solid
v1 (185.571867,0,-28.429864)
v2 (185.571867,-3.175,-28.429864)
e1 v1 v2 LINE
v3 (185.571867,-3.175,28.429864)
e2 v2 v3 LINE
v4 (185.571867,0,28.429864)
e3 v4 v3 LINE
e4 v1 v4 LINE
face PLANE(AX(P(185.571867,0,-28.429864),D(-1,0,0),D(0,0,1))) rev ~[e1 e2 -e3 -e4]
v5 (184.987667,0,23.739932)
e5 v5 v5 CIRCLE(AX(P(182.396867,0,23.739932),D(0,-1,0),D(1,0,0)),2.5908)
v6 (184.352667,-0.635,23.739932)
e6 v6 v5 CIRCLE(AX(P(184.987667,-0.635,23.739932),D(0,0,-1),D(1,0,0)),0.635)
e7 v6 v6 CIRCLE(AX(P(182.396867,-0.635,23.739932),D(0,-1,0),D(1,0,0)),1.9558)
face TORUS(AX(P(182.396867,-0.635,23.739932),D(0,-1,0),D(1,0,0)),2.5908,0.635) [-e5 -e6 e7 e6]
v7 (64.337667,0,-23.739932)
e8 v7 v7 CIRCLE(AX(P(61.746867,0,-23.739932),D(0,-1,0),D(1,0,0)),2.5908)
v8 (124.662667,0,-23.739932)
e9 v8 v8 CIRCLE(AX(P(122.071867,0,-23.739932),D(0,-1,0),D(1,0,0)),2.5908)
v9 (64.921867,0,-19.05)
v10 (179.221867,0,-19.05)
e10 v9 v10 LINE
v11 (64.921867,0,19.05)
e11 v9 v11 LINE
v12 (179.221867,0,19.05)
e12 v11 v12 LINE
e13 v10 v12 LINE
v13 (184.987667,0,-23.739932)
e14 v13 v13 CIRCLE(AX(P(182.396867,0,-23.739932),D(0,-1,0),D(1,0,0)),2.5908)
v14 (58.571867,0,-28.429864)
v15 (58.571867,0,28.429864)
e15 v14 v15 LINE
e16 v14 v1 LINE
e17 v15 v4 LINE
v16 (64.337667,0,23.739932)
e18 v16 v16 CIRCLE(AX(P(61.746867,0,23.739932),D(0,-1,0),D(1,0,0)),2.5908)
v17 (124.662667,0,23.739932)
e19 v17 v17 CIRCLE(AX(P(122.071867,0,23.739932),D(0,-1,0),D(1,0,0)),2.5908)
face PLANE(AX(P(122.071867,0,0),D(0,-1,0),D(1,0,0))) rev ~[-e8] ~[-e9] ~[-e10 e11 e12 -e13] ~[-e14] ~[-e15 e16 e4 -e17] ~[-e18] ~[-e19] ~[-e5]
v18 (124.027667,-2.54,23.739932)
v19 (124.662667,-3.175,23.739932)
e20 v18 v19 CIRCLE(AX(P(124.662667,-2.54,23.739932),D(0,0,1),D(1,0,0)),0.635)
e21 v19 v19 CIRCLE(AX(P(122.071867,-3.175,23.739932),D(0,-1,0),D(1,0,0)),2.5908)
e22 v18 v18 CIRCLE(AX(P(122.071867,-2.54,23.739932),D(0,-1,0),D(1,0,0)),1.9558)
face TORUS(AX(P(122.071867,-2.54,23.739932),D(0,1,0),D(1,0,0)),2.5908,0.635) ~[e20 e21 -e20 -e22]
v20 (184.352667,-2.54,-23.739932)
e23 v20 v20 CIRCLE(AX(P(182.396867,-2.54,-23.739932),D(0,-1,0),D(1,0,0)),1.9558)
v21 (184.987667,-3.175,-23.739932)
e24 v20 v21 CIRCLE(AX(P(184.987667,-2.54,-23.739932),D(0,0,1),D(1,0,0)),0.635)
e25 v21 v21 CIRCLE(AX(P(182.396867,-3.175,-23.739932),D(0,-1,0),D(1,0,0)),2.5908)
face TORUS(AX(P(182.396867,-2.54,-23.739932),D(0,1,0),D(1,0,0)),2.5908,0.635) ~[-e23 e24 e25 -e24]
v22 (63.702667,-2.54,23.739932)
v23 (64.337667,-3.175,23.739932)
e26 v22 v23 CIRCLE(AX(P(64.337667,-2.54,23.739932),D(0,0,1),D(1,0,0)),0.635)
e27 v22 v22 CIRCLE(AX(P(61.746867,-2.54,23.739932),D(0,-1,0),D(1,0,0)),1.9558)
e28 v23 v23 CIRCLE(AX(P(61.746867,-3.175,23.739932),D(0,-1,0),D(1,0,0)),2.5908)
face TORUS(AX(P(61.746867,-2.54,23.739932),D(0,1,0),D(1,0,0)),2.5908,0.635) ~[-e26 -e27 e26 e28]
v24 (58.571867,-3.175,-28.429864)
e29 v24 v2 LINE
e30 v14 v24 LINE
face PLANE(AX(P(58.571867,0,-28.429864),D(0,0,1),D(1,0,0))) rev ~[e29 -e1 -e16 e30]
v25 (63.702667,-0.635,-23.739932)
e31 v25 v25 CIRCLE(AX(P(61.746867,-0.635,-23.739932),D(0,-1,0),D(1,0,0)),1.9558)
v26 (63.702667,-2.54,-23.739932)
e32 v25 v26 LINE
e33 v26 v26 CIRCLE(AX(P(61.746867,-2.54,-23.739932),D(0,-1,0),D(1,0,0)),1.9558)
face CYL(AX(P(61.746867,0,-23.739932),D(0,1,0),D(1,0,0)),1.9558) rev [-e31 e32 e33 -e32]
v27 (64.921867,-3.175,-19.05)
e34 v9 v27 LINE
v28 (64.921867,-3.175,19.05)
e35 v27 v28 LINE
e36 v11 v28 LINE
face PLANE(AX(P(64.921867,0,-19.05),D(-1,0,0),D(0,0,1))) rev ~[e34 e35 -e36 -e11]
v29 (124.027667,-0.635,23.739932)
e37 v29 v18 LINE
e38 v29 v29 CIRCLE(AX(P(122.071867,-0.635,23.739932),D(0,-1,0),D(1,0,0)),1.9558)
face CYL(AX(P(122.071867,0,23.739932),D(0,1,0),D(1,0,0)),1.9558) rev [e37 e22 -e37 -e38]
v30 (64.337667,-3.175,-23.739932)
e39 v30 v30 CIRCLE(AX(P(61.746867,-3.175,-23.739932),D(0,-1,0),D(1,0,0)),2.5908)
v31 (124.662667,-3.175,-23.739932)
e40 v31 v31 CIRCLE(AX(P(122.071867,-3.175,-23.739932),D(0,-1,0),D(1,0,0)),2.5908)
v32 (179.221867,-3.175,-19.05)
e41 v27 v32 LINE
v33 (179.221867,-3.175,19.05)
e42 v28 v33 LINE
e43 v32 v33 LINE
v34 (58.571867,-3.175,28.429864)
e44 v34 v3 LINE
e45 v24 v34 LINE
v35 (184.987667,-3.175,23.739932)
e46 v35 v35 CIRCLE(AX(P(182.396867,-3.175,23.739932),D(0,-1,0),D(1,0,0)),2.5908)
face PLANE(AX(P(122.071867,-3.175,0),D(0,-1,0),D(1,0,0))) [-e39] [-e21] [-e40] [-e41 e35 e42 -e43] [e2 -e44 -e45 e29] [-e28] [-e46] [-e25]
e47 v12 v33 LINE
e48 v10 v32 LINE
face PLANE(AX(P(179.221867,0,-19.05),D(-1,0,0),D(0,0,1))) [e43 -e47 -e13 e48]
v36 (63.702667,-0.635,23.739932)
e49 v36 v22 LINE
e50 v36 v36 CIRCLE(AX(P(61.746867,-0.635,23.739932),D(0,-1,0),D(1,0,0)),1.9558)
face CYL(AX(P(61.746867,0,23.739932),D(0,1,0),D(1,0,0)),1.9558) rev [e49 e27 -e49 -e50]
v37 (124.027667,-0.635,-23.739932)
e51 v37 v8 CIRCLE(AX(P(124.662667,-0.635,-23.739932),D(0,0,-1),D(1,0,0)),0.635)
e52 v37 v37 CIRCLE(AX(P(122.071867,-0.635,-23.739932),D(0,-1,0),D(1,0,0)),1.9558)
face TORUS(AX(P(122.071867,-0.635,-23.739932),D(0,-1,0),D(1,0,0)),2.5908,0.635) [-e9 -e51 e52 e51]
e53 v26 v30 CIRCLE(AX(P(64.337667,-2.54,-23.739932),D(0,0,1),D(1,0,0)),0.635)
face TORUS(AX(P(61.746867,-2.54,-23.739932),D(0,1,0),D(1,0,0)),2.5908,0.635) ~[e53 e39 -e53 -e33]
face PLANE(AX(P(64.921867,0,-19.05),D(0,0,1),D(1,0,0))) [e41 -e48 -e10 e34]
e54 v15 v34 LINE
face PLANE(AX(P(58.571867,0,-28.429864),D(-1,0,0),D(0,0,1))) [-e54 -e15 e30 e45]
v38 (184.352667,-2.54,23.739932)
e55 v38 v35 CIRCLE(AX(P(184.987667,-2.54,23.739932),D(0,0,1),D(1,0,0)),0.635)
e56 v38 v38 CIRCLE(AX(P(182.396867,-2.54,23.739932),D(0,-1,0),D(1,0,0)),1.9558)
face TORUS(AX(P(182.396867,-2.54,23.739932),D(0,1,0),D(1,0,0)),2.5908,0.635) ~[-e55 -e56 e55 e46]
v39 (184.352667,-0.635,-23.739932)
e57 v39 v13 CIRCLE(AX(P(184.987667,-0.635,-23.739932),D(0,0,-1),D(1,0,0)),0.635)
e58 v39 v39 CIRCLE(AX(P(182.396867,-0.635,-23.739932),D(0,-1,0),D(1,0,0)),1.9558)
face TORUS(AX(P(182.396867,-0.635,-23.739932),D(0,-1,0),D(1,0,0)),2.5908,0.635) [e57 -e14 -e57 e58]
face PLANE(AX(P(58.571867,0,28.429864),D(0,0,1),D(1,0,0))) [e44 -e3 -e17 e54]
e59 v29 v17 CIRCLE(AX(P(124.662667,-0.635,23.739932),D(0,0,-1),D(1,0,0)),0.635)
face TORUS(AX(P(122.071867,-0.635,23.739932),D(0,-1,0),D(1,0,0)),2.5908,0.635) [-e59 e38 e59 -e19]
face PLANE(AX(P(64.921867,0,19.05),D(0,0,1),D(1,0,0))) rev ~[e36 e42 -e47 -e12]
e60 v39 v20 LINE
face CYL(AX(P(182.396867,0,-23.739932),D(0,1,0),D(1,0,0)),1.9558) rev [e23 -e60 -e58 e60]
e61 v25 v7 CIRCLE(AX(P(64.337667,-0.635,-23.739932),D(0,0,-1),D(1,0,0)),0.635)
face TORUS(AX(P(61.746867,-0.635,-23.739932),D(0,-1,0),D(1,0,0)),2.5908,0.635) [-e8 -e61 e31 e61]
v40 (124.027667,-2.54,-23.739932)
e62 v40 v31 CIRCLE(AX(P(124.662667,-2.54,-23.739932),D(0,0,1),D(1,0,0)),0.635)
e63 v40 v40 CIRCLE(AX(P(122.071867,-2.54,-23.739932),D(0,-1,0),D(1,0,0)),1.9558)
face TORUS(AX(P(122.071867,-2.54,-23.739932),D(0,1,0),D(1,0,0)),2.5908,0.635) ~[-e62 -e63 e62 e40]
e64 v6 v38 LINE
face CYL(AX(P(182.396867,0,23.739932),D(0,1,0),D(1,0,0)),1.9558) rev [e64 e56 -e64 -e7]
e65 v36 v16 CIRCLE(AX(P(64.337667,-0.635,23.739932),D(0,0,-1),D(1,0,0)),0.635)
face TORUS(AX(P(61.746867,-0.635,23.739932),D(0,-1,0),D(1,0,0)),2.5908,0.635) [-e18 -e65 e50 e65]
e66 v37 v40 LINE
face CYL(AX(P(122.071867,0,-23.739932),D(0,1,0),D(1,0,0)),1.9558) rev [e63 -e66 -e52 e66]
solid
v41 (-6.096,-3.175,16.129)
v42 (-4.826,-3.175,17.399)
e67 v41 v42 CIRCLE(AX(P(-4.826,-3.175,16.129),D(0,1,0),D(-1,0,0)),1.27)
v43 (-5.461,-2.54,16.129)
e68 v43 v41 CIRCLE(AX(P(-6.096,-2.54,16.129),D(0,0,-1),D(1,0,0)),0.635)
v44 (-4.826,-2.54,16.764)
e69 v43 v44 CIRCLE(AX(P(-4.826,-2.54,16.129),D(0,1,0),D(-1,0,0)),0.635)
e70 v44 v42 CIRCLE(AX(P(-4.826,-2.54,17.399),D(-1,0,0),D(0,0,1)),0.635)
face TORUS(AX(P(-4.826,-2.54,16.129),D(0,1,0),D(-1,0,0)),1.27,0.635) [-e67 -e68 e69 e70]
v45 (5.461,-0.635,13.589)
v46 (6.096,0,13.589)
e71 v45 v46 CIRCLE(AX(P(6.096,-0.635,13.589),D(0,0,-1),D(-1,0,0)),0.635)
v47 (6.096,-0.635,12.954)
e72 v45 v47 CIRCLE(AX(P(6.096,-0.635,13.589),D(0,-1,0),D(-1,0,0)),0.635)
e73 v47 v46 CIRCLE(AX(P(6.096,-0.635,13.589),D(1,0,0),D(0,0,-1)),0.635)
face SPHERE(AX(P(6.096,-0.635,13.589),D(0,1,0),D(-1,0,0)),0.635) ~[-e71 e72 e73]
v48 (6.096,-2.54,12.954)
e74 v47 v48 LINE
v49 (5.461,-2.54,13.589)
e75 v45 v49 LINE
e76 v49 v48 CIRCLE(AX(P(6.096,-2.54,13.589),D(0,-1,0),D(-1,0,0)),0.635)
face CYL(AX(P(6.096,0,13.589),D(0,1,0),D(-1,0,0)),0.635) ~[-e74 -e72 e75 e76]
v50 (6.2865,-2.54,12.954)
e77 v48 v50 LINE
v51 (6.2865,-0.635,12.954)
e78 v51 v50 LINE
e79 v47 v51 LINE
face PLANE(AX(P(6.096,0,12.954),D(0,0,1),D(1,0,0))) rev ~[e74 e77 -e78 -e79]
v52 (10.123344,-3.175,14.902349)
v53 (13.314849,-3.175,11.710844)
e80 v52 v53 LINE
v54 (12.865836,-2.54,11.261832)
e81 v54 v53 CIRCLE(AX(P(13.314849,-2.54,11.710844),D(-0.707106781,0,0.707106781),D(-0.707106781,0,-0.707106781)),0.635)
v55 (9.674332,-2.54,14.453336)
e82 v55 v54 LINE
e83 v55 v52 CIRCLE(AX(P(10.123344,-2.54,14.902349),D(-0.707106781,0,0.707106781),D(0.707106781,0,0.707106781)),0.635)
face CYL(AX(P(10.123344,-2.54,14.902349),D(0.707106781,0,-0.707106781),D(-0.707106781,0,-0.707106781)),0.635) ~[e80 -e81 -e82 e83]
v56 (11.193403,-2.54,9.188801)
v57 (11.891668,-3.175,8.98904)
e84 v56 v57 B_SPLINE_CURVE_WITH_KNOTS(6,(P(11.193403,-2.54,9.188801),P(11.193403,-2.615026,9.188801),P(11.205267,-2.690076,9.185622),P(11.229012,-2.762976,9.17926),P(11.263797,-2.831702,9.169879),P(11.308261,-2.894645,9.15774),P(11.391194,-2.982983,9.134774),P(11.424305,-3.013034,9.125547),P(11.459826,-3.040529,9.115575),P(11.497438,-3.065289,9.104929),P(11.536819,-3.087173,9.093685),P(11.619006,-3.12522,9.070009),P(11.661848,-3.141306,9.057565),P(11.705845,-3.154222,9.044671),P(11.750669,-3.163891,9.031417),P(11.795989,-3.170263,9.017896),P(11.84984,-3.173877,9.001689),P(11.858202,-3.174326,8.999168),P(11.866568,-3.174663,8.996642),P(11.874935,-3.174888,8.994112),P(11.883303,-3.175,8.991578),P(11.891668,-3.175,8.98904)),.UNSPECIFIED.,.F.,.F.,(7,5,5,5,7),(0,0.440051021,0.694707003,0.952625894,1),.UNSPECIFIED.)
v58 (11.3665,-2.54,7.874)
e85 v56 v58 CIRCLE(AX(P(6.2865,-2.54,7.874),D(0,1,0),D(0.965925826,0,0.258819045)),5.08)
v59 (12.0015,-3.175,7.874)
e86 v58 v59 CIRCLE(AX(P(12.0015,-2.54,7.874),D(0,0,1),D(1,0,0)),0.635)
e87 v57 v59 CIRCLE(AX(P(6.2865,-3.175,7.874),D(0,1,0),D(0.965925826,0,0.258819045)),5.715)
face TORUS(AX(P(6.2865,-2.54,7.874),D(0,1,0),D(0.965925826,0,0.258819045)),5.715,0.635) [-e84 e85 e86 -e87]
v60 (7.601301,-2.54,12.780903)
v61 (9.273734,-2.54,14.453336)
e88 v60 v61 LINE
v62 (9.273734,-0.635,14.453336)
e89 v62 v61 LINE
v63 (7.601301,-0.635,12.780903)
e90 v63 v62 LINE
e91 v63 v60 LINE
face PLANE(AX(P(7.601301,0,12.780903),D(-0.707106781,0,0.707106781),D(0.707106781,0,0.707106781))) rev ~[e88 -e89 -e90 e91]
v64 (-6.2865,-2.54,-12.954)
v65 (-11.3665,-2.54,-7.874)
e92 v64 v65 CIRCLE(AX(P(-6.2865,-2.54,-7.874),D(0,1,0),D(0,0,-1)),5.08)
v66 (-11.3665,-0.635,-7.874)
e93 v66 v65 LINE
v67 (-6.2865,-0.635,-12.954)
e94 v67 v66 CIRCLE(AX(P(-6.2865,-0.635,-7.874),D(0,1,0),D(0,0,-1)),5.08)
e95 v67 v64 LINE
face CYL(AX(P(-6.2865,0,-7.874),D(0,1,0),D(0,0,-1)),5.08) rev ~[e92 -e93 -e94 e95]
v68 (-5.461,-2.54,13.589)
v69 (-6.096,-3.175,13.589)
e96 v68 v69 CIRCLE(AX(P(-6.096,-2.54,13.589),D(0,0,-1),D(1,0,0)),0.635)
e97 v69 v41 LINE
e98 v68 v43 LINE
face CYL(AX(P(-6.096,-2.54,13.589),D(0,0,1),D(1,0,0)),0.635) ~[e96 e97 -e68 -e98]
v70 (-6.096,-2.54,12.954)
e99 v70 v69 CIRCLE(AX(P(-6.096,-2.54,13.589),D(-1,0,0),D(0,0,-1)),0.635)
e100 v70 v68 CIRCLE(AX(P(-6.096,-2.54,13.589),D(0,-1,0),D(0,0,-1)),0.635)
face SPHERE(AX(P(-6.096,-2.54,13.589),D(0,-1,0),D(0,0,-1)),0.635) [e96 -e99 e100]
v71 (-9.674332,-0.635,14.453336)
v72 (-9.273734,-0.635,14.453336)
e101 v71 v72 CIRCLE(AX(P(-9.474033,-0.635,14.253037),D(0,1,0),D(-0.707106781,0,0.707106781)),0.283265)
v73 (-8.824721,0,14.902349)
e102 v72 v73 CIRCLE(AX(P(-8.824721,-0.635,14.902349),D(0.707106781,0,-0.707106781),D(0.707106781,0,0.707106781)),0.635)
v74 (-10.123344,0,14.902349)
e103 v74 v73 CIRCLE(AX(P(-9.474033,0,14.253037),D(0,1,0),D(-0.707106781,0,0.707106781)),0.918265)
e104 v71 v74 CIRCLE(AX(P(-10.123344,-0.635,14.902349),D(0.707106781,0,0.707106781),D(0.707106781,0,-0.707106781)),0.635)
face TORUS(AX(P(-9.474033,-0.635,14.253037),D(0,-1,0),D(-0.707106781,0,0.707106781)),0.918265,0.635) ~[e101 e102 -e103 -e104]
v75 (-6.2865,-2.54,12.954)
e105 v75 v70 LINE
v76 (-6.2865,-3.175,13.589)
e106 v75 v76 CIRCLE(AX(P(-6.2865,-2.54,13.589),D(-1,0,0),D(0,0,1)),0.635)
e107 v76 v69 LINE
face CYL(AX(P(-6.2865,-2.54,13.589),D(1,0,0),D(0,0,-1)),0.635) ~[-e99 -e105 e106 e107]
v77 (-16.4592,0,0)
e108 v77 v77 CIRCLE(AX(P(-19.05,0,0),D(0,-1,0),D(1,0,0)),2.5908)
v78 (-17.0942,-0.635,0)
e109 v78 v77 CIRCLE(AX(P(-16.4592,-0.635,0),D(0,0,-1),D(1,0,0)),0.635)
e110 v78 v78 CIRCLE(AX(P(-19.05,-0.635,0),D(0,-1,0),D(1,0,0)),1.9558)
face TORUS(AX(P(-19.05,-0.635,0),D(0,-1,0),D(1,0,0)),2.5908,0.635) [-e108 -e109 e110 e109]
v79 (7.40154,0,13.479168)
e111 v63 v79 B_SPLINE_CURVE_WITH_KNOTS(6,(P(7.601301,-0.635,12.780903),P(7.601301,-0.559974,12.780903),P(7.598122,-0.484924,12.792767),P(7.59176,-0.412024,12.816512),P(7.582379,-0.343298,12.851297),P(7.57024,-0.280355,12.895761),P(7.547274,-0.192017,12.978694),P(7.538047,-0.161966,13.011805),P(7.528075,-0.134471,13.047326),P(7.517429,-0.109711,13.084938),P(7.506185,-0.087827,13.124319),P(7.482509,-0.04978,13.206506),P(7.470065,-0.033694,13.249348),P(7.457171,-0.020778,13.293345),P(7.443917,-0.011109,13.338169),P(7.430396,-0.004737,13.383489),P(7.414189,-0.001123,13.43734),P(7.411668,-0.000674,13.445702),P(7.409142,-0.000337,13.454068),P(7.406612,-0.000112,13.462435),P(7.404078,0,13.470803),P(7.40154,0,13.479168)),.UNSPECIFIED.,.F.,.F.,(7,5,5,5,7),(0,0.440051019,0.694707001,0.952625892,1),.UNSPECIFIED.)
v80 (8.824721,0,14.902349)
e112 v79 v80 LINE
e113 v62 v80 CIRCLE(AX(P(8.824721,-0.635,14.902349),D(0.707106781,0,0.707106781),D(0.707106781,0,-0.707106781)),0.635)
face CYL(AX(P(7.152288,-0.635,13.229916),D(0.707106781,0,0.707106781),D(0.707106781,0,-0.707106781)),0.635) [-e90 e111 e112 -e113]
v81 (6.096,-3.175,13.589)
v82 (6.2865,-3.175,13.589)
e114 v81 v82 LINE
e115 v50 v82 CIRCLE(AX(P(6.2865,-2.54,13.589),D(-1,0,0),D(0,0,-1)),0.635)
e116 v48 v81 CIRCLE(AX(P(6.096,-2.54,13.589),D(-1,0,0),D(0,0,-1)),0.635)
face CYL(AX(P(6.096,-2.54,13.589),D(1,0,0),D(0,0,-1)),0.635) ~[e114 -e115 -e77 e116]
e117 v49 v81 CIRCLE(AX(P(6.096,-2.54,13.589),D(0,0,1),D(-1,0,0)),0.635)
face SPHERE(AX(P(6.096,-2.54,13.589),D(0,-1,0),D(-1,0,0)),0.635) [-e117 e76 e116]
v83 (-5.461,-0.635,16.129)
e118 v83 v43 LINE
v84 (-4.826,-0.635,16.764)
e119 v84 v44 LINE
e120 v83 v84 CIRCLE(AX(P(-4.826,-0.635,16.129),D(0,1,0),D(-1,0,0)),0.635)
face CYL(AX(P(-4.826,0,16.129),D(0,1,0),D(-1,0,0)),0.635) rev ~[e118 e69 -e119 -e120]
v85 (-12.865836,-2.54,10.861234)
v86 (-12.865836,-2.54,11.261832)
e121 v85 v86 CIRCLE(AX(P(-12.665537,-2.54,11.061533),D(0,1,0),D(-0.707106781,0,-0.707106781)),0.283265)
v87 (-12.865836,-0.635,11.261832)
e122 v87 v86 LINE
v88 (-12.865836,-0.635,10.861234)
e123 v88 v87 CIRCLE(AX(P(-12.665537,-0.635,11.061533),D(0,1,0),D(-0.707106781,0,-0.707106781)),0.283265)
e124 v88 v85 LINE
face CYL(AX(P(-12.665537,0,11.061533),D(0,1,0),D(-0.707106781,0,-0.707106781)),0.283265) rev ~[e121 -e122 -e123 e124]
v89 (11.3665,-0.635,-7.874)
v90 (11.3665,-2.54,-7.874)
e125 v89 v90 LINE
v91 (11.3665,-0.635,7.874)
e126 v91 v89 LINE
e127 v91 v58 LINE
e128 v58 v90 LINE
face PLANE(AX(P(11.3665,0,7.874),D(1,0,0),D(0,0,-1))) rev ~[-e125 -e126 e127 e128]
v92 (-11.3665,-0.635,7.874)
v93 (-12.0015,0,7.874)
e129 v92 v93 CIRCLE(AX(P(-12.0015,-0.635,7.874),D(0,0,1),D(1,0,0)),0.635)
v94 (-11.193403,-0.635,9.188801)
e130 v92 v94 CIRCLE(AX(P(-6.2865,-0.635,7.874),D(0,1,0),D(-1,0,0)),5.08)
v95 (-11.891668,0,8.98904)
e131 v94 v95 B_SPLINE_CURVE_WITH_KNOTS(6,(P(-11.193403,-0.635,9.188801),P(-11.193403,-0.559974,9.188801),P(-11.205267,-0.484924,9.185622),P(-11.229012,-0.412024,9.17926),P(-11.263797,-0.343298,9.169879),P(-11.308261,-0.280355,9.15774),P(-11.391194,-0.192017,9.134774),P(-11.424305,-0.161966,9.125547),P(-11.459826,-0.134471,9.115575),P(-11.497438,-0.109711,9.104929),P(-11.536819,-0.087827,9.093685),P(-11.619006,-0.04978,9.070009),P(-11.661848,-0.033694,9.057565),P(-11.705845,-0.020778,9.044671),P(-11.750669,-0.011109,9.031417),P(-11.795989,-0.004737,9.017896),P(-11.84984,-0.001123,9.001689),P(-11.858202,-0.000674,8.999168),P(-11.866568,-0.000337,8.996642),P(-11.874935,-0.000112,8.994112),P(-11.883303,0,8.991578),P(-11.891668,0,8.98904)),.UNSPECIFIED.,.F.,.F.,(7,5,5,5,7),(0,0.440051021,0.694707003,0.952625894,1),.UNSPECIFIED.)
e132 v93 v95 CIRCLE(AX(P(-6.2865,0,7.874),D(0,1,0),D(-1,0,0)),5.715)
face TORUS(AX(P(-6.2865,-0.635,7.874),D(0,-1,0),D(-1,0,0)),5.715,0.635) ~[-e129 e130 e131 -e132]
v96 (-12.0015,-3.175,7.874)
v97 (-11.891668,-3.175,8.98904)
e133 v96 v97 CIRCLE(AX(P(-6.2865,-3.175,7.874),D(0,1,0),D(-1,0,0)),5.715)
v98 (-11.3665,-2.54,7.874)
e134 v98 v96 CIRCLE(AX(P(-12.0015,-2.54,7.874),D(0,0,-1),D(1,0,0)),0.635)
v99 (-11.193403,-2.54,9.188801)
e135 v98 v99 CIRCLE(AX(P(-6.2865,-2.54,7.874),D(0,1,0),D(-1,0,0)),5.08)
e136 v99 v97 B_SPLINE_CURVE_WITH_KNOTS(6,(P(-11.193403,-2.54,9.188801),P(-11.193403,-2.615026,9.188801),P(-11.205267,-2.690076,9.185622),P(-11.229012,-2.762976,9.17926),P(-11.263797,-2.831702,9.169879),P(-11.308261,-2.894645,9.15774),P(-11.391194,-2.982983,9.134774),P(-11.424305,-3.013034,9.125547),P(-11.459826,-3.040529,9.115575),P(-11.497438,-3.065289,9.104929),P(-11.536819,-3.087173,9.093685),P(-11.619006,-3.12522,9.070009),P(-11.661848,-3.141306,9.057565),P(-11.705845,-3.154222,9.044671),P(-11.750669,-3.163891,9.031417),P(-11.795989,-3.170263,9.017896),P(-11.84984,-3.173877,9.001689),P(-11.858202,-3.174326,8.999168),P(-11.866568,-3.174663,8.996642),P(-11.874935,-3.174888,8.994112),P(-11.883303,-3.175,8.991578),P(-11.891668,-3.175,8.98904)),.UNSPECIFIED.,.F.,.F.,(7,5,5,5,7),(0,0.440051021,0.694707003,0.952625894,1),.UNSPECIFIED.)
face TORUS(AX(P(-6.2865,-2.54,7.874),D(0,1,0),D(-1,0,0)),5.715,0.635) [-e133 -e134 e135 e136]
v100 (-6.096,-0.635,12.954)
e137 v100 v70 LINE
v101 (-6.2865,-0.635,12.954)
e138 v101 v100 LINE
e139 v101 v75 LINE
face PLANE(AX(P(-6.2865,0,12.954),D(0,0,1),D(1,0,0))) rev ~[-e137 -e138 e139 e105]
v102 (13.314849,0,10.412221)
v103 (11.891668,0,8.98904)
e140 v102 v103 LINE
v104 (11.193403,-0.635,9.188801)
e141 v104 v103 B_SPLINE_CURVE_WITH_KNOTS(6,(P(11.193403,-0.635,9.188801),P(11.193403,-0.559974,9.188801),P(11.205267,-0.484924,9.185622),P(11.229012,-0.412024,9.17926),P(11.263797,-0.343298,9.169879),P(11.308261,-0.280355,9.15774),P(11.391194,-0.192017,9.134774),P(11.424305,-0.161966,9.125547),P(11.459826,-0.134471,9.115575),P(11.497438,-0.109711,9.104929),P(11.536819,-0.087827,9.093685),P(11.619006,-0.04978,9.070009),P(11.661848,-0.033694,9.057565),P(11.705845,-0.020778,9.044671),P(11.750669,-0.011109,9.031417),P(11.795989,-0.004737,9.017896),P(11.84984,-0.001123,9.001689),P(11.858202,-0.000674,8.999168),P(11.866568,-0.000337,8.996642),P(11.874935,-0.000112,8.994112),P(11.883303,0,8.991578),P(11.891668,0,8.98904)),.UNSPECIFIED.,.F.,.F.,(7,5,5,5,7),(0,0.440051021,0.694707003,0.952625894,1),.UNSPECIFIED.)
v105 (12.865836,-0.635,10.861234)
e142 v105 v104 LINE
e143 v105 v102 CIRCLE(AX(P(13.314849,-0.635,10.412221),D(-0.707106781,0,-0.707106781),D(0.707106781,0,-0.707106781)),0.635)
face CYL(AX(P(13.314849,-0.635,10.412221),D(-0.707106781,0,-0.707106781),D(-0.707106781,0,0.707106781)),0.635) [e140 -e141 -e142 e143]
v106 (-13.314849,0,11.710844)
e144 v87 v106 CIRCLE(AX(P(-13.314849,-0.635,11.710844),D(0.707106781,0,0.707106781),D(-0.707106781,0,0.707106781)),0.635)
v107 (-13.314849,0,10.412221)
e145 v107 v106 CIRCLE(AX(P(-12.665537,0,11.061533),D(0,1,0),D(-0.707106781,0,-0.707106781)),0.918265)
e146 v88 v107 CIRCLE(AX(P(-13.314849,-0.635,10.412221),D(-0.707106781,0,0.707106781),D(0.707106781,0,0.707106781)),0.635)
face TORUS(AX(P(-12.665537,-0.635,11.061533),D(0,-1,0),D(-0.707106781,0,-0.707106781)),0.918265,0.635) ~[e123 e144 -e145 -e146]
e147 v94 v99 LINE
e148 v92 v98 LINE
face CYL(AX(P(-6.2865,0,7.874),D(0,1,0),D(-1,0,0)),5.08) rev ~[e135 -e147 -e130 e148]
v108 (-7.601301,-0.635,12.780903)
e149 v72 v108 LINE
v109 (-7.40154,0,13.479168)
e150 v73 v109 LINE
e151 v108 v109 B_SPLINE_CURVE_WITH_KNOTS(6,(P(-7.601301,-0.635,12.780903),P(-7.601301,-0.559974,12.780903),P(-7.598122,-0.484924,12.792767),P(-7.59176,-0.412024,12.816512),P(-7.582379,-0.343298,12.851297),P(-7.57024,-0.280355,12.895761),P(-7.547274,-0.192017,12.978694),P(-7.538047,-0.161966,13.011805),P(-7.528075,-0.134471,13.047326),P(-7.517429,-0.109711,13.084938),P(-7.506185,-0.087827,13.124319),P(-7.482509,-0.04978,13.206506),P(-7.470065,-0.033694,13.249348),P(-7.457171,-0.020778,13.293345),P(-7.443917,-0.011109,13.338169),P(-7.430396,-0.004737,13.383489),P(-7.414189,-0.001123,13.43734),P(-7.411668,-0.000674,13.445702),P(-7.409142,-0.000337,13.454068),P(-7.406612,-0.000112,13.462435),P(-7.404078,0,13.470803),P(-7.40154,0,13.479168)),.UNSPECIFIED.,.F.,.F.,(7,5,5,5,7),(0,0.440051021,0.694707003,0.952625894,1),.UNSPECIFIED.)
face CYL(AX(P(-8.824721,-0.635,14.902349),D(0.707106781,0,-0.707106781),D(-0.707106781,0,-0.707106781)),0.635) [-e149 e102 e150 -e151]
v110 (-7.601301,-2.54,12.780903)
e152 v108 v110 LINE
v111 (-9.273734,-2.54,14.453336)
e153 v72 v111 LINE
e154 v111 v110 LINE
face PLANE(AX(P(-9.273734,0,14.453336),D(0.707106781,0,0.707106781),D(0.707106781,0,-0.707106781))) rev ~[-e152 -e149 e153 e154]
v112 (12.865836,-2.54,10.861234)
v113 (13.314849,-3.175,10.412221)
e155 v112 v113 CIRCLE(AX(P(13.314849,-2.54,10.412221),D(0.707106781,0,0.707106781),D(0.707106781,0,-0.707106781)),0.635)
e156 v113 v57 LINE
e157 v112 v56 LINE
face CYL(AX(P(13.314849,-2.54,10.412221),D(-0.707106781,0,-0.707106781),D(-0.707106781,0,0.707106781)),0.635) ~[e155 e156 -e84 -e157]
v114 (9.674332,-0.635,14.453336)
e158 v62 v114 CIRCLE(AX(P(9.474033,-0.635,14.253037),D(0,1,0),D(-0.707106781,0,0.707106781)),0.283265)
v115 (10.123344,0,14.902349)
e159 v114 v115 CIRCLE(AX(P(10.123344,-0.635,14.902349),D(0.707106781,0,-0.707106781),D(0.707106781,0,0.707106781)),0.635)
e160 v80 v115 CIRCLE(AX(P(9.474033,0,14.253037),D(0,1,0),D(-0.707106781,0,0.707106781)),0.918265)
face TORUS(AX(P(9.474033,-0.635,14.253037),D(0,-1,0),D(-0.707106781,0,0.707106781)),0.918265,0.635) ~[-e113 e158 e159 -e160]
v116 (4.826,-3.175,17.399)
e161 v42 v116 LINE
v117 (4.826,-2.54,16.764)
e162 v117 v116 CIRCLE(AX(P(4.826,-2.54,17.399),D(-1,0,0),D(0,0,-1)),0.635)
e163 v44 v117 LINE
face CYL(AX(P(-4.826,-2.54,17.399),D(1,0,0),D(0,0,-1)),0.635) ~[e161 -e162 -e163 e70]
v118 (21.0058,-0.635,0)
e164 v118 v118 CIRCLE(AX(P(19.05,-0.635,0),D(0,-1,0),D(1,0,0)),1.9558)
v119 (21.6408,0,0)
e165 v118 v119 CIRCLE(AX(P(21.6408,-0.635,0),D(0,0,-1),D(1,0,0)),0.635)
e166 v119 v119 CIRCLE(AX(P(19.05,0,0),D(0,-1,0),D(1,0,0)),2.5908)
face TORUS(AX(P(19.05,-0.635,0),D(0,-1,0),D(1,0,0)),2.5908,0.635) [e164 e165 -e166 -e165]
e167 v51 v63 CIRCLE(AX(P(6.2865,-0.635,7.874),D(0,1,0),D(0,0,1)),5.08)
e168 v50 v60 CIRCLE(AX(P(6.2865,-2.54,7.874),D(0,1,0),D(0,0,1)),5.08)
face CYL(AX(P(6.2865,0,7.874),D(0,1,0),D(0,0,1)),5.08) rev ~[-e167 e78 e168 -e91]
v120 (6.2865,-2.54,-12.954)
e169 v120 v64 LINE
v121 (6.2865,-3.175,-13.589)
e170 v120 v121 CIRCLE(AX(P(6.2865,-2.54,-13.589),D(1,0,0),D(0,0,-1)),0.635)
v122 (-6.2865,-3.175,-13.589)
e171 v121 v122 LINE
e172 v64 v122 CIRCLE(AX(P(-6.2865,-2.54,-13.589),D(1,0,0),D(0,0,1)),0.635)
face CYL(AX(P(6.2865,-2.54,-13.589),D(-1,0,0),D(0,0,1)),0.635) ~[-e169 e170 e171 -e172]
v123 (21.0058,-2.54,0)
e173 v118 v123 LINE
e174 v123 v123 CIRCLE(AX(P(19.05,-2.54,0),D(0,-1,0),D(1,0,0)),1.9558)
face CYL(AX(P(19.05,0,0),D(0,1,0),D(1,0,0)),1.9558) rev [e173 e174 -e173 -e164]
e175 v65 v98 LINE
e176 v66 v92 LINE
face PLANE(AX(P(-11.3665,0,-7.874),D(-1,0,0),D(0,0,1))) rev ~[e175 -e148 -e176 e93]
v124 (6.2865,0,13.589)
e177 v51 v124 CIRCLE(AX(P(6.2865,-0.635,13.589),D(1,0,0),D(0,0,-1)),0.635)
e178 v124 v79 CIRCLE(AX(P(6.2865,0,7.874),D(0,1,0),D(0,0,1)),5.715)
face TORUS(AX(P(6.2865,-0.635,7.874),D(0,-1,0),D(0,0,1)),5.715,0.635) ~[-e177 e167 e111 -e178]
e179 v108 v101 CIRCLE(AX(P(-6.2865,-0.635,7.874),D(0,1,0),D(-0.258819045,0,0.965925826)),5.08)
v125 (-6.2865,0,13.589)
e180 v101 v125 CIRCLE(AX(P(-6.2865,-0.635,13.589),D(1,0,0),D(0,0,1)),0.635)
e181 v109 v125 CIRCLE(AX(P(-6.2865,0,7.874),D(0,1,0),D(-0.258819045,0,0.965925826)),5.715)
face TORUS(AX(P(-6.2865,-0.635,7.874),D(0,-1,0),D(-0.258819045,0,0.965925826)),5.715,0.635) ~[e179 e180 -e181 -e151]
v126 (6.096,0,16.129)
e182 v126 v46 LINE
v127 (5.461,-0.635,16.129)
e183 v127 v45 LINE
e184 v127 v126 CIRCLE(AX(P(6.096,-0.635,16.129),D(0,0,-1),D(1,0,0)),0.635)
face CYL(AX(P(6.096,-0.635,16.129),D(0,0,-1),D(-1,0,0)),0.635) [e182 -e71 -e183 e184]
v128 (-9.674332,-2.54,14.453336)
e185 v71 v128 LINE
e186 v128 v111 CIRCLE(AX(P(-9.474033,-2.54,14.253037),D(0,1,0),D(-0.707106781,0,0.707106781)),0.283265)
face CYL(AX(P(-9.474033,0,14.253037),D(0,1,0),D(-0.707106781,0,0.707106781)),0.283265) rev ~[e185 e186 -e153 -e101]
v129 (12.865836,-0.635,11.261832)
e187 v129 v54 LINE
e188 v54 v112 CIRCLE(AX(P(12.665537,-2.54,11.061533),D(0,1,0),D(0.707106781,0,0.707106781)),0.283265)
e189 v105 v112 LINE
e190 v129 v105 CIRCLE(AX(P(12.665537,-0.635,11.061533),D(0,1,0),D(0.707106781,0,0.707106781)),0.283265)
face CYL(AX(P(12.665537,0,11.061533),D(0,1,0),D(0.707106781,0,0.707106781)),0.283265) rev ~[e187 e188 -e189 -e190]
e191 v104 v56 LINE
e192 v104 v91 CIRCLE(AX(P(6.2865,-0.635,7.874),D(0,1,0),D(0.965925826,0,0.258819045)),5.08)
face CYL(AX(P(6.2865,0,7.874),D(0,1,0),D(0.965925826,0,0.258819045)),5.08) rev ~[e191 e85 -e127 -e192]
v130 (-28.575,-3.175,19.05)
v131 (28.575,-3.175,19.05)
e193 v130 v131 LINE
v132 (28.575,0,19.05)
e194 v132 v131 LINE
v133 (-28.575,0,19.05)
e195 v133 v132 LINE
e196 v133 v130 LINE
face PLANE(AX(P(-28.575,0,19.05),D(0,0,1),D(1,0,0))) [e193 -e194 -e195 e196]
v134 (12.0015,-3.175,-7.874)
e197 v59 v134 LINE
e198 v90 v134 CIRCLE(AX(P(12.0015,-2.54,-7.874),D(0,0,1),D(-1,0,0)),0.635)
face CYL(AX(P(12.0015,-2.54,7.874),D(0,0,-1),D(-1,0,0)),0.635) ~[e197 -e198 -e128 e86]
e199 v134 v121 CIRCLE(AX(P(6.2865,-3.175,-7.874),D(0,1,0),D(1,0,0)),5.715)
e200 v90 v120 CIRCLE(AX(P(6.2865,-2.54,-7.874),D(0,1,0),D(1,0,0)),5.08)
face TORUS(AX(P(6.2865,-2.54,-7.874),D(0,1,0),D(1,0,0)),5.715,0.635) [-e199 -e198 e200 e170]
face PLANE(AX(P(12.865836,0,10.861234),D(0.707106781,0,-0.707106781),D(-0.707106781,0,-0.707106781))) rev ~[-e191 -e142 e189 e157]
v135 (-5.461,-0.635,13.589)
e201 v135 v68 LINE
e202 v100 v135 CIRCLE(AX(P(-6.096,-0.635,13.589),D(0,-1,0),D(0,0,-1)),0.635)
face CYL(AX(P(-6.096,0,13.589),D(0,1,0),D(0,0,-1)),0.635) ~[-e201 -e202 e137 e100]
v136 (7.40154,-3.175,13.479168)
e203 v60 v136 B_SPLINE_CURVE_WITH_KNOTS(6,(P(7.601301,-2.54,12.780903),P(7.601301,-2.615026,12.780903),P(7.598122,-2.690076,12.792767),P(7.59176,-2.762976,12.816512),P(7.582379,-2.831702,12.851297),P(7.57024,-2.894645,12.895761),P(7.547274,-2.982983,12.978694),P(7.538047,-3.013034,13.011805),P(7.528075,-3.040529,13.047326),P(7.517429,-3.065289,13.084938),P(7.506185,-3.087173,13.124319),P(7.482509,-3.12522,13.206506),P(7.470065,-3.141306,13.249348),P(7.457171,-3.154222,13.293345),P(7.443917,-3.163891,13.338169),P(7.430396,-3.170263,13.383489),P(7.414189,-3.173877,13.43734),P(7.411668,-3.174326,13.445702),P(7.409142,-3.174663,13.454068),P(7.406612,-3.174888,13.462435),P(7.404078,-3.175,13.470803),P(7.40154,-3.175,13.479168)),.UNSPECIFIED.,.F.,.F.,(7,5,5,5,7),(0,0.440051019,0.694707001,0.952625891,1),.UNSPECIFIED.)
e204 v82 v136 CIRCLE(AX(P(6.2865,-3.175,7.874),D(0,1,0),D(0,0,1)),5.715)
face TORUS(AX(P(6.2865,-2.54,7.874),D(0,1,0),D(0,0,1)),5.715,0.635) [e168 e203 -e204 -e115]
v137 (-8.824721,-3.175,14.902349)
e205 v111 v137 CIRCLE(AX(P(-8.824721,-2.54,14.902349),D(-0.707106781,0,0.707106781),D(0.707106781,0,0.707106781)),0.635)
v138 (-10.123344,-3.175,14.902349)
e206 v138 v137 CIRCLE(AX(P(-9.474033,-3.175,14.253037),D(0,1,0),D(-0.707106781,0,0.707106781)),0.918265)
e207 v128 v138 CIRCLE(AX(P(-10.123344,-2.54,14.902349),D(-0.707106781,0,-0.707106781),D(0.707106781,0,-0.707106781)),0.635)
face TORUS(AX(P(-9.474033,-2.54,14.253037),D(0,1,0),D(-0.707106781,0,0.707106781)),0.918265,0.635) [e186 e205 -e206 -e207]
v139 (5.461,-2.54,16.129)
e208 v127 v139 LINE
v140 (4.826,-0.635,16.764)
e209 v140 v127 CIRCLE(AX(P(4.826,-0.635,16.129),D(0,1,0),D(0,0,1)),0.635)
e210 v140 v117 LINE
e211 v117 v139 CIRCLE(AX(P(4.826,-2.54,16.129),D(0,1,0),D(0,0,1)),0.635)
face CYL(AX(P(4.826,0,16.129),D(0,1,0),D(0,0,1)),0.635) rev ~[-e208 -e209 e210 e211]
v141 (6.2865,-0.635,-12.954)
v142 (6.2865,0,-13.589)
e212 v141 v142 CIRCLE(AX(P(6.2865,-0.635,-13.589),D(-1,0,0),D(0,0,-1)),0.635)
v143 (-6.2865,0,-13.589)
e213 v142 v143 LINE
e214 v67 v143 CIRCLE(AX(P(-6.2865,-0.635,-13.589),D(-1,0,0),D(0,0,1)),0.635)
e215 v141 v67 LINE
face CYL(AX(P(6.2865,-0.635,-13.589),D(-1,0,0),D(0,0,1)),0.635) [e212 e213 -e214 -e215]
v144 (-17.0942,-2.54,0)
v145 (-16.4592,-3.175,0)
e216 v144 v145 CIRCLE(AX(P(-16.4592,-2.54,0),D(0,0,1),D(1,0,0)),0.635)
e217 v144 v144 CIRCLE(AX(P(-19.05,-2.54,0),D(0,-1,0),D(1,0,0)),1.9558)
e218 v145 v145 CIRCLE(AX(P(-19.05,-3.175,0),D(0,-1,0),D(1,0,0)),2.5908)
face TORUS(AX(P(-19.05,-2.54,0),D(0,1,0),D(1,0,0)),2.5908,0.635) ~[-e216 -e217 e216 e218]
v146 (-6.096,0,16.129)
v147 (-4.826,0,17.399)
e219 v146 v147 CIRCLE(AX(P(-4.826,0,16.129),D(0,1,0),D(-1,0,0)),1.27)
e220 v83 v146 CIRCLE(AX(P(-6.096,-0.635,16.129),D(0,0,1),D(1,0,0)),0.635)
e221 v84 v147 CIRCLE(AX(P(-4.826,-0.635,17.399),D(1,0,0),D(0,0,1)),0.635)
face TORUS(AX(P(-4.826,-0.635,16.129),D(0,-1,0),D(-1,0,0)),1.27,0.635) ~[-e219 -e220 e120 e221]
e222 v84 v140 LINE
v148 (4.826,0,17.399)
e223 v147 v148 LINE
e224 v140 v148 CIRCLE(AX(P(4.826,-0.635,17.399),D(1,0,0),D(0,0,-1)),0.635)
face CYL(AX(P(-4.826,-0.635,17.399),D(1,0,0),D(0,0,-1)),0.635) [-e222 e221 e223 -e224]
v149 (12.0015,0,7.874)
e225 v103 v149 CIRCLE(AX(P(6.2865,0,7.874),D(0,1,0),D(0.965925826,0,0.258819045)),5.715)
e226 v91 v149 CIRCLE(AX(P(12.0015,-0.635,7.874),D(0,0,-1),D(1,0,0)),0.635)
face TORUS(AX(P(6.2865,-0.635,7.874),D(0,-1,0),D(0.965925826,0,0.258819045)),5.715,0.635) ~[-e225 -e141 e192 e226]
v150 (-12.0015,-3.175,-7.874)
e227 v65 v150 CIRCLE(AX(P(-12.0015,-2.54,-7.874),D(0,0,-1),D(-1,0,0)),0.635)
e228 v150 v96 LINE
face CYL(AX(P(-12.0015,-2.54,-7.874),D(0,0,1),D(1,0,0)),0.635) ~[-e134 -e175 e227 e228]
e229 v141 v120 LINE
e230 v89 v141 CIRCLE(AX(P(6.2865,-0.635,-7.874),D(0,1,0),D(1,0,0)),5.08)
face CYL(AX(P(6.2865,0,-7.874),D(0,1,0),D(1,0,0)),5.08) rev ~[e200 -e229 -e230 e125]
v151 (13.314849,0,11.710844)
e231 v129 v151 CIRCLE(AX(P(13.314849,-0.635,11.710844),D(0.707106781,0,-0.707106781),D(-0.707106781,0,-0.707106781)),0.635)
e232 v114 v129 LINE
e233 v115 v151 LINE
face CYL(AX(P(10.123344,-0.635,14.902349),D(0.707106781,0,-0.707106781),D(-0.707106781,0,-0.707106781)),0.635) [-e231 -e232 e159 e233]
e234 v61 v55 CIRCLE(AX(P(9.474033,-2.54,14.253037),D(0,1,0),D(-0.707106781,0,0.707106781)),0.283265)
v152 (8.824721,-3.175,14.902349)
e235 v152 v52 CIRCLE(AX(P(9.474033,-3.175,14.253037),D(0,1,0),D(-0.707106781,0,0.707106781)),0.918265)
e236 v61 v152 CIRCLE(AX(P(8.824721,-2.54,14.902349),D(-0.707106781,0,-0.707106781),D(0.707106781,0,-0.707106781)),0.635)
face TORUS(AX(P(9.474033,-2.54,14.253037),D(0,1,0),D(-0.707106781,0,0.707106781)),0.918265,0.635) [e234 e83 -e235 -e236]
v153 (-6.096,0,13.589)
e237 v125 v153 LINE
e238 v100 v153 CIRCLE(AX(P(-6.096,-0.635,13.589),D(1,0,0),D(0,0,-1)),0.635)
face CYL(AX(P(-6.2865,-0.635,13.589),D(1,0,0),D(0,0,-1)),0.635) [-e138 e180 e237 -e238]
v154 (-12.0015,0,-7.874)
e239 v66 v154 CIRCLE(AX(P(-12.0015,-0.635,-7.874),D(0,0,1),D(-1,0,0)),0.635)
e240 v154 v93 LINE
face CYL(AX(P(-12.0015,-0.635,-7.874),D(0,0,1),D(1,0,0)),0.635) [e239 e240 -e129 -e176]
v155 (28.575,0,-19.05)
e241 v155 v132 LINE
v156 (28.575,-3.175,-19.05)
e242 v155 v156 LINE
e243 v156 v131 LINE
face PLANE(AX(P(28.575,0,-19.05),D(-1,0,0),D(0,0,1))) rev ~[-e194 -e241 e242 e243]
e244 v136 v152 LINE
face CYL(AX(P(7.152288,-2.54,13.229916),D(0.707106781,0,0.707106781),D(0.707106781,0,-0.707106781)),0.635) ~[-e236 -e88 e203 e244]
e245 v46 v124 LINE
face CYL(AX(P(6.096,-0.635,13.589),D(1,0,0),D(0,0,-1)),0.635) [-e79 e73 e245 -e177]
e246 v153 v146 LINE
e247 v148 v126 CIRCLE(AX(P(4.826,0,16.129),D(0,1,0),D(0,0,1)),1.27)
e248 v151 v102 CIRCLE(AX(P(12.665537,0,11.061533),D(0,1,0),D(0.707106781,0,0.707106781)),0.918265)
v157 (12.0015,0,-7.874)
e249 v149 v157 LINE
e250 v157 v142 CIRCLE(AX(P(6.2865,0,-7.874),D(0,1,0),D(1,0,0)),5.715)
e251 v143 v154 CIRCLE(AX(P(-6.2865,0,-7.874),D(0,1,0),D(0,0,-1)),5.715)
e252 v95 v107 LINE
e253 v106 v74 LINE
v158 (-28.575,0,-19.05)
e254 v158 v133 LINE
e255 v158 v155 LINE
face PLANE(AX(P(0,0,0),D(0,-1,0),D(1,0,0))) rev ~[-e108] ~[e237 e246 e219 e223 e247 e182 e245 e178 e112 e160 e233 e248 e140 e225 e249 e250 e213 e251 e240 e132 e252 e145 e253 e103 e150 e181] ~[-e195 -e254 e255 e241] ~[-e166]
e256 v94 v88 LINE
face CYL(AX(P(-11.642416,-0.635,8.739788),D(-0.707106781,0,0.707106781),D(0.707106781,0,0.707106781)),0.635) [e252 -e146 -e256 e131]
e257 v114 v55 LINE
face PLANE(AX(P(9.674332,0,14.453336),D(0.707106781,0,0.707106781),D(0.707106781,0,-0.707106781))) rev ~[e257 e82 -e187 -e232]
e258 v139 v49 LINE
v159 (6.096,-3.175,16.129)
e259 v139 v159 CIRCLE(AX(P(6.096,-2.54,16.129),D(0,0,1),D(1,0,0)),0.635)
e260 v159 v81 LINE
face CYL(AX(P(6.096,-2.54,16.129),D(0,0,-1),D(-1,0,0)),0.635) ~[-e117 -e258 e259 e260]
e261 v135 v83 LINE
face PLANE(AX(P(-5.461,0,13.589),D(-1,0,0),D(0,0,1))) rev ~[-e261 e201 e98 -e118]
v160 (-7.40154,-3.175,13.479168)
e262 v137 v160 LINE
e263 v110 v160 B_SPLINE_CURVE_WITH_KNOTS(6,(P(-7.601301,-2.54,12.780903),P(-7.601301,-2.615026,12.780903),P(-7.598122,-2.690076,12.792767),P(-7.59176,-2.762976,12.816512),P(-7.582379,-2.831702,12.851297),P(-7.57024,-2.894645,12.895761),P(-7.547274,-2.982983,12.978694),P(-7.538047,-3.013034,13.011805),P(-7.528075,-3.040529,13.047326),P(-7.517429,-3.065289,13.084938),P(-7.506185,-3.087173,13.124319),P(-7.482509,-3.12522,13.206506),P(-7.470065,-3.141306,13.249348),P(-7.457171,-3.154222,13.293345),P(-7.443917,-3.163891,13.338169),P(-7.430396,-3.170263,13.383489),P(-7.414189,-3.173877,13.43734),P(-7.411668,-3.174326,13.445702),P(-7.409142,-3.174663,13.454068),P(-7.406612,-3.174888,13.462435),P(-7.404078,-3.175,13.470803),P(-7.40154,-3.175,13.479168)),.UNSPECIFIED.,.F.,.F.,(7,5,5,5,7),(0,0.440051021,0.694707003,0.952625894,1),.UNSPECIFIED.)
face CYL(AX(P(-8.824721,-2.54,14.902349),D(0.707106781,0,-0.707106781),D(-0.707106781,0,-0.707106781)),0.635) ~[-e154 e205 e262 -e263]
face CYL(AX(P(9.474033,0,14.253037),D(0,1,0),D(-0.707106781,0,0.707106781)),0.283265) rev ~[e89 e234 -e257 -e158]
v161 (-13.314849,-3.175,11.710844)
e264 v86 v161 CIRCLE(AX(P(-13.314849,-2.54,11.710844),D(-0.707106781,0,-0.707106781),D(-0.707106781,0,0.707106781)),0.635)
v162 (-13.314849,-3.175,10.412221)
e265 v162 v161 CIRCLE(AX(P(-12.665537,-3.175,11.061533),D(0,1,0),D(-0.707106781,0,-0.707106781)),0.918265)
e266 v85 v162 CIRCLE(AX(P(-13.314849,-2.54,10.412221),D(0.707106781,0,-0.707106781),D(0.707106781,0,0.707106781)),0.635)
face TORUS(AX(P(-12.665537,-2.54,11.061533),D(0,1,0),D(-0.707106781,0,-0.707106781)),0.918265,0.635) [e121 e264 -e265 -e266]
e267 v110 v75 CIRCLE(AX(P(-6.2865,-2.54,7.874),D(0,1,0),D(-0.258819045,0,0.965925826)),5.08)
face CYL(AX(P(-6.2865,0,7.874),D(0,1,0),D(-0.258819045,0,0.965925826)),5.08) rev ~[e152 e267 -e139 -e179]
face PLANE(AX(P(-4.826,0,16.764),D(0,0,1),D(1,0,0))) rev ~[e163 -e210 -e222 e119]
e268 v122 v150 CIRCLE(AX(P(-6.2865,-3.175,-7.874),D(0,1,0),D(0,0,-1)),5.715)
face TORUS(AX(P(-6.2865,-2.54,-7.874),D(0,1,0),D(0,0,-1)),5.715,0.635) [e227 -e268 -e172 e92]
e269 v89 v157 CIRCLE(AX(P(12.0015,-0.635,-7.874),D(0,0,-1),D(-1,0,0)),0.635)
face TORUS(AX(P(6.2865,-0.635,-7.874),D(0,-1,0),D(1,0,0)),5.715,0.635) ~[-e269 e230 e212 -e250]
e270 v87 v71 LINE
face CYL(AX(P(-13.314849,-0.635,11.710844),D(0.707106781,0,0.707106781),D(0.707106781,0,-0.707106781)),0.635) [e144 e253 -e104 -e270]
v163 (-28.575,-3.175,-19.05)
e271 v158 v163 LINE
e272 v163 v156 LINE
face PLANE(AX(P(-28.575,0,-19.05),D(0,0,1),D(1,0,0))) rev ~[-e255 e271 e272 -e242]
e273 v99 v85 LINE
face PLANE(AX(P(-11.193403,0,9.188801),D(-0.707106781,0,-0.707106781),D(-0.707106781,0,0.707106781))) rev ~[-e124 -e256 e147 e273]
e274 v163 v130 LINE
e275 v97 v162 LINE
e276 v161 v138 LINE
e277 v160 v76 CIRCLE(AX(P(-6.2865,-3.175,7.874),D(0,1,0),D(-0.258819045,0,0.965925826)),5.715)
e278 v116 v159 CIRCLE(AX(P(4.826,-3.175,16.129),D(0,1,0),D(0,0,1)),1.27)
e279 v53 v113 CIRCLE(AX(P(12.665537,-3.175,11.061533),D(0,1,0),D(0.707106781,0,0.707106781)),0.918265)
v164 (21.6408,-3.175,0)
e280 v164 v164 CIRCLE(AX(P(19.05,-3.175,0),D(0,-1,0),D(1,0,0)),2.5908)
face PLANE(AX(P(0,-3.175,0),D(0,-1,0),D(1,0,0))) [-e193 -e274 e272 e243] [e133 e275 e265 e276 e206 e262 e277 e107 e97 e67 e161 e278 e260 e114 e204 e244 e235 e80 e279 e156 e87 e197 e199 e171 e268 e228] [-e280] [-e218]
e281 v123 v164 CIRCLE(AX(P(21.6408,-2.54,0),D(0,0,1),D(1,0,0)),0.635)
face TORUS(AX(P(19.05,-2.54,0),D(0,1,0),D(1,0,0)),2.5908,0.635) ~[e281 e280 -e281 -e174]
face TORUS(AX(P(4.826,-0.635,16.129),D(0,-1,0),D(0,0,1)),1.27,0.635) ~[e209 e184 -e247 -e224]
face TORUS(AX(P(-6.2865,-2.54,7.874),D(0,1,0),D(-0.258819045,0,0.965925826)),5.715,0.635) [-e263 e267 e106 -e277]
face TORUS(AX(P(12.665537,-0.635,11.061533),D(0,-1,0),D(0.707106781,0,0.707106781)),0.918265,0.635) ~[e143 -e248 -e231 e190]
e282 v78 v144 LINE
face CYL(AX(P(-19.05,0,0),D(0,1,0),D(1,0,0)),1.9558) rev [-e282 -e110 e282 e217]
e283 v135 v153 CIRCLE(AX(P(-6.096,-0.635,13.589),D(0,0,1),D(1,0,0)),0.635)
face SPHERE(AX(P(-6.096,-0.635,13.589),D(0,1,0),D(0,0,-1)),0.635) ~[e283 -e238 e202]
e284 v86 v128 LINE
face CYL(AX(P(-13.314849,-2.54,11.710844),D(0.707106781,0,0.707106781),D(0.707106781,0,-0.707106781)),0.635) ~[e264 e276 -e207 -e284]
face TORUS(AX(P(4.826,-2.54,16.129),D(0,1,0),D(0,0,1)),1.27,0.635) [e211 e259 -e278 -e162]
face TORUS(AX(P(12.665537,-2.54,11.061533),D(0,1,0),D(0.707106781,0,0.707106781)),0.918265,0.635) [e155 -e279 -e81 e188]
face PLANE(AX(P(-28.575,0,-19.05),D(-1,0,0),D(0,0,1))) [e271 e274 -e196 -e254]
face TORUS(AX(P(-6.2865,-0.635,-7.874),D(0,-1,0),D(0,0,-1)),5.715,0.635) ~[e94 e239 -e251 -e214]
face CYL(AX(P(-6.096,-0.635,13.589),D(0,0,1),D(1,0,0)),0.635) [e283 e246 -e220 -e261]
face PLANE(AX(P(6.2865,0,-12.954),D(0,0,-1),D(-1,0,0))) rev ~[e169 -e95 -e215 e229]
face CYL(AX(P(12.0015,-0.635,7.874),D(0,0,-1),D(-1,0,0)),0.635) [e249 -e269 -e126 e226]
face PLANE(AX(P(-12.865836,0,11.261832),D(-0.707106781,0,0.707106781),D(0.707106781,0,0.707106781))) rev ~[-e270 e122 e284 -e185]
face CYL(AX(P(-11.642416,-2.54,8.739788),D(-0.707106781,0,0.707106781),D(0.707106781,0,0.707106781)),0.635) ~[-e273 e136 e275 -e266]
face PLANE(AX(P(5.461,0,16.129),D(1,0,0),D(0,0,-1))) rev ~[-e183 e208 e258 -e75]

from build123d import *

# Parameters (mm, degrees)
F0_W     = 57.15
F0_H     = 38.1
F0_R     = 4.445
F0_R_2   = 1.9558
F1_DEPTH = 3.175
F0_W_2   = 127
F0_H_2   = 56.8597277675
F0_W_3   = 114.3
F3_R     = 0.635
F4_R     = 0.635


with BuildPart() as f1:
    # F0 (on Front) → F1 (new body)
    with BuildSketch(Plane.XZ):
        Rectangle(F0_W, F0_H)
        with Locations((-19.05, 0)):
            Circle(F0_R, mode=Mode.SUBTRACT)
        with Locations((19.05, 0)):
            Circle(F0_R, mode=Mode.SUBTRACT)
        with BuildLine():
            ThreePointArc((-7.6013007491, 12.7809031975), (-6.9495730565, 12.9105398958), (-6.2865, 12.954))
            Line((-6.2865, 12.954), (-6.096, 12.954))
            ThreePointArc((-6.096, 12.954), (-5.6469871939, 13.1399871939), (-5.461, 13.589))
            Line((-5.461, 13.589), (-5.461, 16.129))
            ThreePointArc((-5.461, 16.129), (-5.2750128061, 16.5780128061), (-4.826, 16.764))
            Line((-4.826, 16.764), (4.826, 16.764))
            ThreePointArc((4.826, 16.764), (5.2750128061, 16.5780128061), (5.461, 16.129))
            Line((5.461, 16.129), (5.461, 13.589))
            ThreePointArc((5.461, 13.589), (5.6469871939, 13.1399871939), (6.096, 12.954))
            Line((6.096, 12.954), (6.2865, 12.954))
            ThreePointArc((6.2865, 12.954), (6.9495730565, 12.9105398958), (7.6013007491, 12.7809031975))
            Line((7.6013007491, 12.7809031975), (9.2737338617, 14.4533363102))
            ThreePointArc((9.2737338617, 14.4533363102), (9.4740326989, 14.5363028051), (9.6743315361, 14.4533363102))
            Line((9.6743315361, 14.4533363102), (12.8658363102, 11.2618315361))
            ThreePointArc((12.8658363102, 11.2618315361), (12.9488028051, 11.0615326989), (12.8658363102, 10.8612338617))
            Line((12.8658363102, 10.8612338617), (11.1934031975, 9.1888007491))
            ThreePointArc((11.1934031975, 9.1888007491), (11.3230398958, 8.5370730565), (11.3665, 7.874))
            Line((11.3665, 7.874), (11.3665, -7.874))
            ThreePointArc((11.3665, -7.874), (9.8786024484, -11.4661024484), (6.2865, -12.954))
            Line((6.2865, -12.954), (-6.2865, -12.954))
            ThreePointArc((-6.2865, -12.954), (-9.8786024484, -11.4661024484), (-11.3665, -7.874))
            Line((-11.3665, -7.874), (-11.3665, 7.874))
            ThreePointArc((-11.3665, 7.874), (-11.3230398958, 8.5370730565), (-11.1934031975, 9.1888007491))
            Line((-11.1934031975, 9.1888007491), (-12.8658363102, 10.8612338617))
            ThreePointArc((-12.8658363102, 10.8612338617), (-12.9488028051, 11.0615326989), (-12.8658363102, 11.2618315361))
            Line((-12.8658363102, 11.2618315361), (-9.6743315361, 14.4533363102))
            ThreePointArc((-9.6743315361, 14.4533363102), (-9.4740326989, 14.5363028051), (-9.2737338617, 14.4533363102))
            Line((-9.2737338617, 14.4533363102), (-7.6013007491, 12.7809031975))
        make_face(mode=Mode.SUBTRACT)
        with Locations((19.05, 0)):
            Circle(F0_R)
        with Locations((19.05, 0)):
            Circle(F0_R_2, mode=Mode.SUBTRACT)
        with Locations((-19.05, 0)):
            Circle(F0_R)
        with Locations((-19.05, 0)):
            Circle(F0_R_2, mode=Mode.SUBTRACT)
    extrude(amount=F1_DEPTH)

    # F3
    f3_edges = [f1.edges().sort_by_distance(p)[0] for p in [
        (0, -3.175, -12.954),
        (9.878602, -3.175, -11.466102),
        (11.3665, -3.175, 0),
        (11.32304, -3.175, 8.537073),
        (12.02962, -3.175, 10.025017),
        (11.270084, -3.175, 12.857584),
        (9.474033, -3.175, 14.536303),
        (8.437517, -3.175, 13.61712),
        (6.949573, -3.175, 12.91054),
        (-6.19125, -3.175, 12.954),
        (-6.949573, -3.175, 12.91054),
        (-8.437517, -3.175, 13.61712),
        (-9.474033, -3.175, 14.536303),
        (-11.270084, -3.175, 12.857584),
        (-12.948803, -3.175, 11.061533),
        (-12.02962, -3.175, 10.025017),
        (-11.32304, -3.175, 8.537073),
        (-11.3665, -3.175, 0),
        (-9.878602, -3.175, -11.466102),
        (11.3665, 0, 0),
        (11.32304, 0, 8.537073),
        (12.02962, 0, 10.025017),
        (9.878602, 0, -11.466102),
        (-12.02962, 0, 10.025017),
        (-6.19125, 0, 12.954),
        (17.0942, 0, 0),
        (-21.0058, 0, 0),
        (-21.0058, -3.175, 0),
        (17.0942, -3.175, 0),
    ]]
    fillet(f3_edges, radius=F3_R)


with BuildPart() as f1b:
    # F0 (on Front) → F1, piece 2 (new body)
    with BuildSketch(Plane.XZ):
        with Locations((122.0718666662, 0)):
            Rectangle(F0_W_2, F0_H_2)
        with Locations((61.7468666662, -23.7399319419)):
            Circle(F0_R_2, mode=Mode.SUBTRACT)
        with Locations((122.0718666662, -23.7399319419)):
            Circle(F0_R_2, mode=Mode.SUBTRACT)
        with Locations((182.3968666662, -23.7399319419)):
            Circle(F0_R_2, mode=Mode.SUBTRACT)
        with Locations((61.7468666662, 23.7399319419)):
            Circle(F0_R_2, mode=Mode.SUBTRACT)
        with Locations((122.0718666662, 0)):
            Rectangle(F0_W_3, F0_H, mode=Mode.SUBTRACT)
        with Locations((122.0718666662, 23.7399319419)):
            Circle(F0_R_2, mode=Mode.SUBTRACT)
        with Locations((182.3968666662, 23.7399319419)):
            Circle(F0_R_2, mode=Mode.SUBTRACT)
    extrude(amount=F1_DEPTH)

    # F4
    f4_edges = [f1b.edges().sort_by_distance(p)[0] for p in [
        (59.791067, 0, 23.739932),
        (120.116067, 0, 23.739932),
        (180.441067, 0, 23.739932),
        (180.441067, 0, -23.739932),
        (120.116067, 0, -23.739932),
        (59.791067, 0, -23.739932),
        (59.791067, -3.175, -23.739932),
        (120.116067, -3.175, -23.739932),
        (180.441067, -3.175, -23.739932),
        (180.441067, -3.175, 23.739932),
        (120.116067, -3.175, 23.739932),
        (59.791067, -3.175, 23.739932),
    ]]
    fillet(f4_edges, radius=F4_R)


solid = Compound([f1.part, f1b.part])
